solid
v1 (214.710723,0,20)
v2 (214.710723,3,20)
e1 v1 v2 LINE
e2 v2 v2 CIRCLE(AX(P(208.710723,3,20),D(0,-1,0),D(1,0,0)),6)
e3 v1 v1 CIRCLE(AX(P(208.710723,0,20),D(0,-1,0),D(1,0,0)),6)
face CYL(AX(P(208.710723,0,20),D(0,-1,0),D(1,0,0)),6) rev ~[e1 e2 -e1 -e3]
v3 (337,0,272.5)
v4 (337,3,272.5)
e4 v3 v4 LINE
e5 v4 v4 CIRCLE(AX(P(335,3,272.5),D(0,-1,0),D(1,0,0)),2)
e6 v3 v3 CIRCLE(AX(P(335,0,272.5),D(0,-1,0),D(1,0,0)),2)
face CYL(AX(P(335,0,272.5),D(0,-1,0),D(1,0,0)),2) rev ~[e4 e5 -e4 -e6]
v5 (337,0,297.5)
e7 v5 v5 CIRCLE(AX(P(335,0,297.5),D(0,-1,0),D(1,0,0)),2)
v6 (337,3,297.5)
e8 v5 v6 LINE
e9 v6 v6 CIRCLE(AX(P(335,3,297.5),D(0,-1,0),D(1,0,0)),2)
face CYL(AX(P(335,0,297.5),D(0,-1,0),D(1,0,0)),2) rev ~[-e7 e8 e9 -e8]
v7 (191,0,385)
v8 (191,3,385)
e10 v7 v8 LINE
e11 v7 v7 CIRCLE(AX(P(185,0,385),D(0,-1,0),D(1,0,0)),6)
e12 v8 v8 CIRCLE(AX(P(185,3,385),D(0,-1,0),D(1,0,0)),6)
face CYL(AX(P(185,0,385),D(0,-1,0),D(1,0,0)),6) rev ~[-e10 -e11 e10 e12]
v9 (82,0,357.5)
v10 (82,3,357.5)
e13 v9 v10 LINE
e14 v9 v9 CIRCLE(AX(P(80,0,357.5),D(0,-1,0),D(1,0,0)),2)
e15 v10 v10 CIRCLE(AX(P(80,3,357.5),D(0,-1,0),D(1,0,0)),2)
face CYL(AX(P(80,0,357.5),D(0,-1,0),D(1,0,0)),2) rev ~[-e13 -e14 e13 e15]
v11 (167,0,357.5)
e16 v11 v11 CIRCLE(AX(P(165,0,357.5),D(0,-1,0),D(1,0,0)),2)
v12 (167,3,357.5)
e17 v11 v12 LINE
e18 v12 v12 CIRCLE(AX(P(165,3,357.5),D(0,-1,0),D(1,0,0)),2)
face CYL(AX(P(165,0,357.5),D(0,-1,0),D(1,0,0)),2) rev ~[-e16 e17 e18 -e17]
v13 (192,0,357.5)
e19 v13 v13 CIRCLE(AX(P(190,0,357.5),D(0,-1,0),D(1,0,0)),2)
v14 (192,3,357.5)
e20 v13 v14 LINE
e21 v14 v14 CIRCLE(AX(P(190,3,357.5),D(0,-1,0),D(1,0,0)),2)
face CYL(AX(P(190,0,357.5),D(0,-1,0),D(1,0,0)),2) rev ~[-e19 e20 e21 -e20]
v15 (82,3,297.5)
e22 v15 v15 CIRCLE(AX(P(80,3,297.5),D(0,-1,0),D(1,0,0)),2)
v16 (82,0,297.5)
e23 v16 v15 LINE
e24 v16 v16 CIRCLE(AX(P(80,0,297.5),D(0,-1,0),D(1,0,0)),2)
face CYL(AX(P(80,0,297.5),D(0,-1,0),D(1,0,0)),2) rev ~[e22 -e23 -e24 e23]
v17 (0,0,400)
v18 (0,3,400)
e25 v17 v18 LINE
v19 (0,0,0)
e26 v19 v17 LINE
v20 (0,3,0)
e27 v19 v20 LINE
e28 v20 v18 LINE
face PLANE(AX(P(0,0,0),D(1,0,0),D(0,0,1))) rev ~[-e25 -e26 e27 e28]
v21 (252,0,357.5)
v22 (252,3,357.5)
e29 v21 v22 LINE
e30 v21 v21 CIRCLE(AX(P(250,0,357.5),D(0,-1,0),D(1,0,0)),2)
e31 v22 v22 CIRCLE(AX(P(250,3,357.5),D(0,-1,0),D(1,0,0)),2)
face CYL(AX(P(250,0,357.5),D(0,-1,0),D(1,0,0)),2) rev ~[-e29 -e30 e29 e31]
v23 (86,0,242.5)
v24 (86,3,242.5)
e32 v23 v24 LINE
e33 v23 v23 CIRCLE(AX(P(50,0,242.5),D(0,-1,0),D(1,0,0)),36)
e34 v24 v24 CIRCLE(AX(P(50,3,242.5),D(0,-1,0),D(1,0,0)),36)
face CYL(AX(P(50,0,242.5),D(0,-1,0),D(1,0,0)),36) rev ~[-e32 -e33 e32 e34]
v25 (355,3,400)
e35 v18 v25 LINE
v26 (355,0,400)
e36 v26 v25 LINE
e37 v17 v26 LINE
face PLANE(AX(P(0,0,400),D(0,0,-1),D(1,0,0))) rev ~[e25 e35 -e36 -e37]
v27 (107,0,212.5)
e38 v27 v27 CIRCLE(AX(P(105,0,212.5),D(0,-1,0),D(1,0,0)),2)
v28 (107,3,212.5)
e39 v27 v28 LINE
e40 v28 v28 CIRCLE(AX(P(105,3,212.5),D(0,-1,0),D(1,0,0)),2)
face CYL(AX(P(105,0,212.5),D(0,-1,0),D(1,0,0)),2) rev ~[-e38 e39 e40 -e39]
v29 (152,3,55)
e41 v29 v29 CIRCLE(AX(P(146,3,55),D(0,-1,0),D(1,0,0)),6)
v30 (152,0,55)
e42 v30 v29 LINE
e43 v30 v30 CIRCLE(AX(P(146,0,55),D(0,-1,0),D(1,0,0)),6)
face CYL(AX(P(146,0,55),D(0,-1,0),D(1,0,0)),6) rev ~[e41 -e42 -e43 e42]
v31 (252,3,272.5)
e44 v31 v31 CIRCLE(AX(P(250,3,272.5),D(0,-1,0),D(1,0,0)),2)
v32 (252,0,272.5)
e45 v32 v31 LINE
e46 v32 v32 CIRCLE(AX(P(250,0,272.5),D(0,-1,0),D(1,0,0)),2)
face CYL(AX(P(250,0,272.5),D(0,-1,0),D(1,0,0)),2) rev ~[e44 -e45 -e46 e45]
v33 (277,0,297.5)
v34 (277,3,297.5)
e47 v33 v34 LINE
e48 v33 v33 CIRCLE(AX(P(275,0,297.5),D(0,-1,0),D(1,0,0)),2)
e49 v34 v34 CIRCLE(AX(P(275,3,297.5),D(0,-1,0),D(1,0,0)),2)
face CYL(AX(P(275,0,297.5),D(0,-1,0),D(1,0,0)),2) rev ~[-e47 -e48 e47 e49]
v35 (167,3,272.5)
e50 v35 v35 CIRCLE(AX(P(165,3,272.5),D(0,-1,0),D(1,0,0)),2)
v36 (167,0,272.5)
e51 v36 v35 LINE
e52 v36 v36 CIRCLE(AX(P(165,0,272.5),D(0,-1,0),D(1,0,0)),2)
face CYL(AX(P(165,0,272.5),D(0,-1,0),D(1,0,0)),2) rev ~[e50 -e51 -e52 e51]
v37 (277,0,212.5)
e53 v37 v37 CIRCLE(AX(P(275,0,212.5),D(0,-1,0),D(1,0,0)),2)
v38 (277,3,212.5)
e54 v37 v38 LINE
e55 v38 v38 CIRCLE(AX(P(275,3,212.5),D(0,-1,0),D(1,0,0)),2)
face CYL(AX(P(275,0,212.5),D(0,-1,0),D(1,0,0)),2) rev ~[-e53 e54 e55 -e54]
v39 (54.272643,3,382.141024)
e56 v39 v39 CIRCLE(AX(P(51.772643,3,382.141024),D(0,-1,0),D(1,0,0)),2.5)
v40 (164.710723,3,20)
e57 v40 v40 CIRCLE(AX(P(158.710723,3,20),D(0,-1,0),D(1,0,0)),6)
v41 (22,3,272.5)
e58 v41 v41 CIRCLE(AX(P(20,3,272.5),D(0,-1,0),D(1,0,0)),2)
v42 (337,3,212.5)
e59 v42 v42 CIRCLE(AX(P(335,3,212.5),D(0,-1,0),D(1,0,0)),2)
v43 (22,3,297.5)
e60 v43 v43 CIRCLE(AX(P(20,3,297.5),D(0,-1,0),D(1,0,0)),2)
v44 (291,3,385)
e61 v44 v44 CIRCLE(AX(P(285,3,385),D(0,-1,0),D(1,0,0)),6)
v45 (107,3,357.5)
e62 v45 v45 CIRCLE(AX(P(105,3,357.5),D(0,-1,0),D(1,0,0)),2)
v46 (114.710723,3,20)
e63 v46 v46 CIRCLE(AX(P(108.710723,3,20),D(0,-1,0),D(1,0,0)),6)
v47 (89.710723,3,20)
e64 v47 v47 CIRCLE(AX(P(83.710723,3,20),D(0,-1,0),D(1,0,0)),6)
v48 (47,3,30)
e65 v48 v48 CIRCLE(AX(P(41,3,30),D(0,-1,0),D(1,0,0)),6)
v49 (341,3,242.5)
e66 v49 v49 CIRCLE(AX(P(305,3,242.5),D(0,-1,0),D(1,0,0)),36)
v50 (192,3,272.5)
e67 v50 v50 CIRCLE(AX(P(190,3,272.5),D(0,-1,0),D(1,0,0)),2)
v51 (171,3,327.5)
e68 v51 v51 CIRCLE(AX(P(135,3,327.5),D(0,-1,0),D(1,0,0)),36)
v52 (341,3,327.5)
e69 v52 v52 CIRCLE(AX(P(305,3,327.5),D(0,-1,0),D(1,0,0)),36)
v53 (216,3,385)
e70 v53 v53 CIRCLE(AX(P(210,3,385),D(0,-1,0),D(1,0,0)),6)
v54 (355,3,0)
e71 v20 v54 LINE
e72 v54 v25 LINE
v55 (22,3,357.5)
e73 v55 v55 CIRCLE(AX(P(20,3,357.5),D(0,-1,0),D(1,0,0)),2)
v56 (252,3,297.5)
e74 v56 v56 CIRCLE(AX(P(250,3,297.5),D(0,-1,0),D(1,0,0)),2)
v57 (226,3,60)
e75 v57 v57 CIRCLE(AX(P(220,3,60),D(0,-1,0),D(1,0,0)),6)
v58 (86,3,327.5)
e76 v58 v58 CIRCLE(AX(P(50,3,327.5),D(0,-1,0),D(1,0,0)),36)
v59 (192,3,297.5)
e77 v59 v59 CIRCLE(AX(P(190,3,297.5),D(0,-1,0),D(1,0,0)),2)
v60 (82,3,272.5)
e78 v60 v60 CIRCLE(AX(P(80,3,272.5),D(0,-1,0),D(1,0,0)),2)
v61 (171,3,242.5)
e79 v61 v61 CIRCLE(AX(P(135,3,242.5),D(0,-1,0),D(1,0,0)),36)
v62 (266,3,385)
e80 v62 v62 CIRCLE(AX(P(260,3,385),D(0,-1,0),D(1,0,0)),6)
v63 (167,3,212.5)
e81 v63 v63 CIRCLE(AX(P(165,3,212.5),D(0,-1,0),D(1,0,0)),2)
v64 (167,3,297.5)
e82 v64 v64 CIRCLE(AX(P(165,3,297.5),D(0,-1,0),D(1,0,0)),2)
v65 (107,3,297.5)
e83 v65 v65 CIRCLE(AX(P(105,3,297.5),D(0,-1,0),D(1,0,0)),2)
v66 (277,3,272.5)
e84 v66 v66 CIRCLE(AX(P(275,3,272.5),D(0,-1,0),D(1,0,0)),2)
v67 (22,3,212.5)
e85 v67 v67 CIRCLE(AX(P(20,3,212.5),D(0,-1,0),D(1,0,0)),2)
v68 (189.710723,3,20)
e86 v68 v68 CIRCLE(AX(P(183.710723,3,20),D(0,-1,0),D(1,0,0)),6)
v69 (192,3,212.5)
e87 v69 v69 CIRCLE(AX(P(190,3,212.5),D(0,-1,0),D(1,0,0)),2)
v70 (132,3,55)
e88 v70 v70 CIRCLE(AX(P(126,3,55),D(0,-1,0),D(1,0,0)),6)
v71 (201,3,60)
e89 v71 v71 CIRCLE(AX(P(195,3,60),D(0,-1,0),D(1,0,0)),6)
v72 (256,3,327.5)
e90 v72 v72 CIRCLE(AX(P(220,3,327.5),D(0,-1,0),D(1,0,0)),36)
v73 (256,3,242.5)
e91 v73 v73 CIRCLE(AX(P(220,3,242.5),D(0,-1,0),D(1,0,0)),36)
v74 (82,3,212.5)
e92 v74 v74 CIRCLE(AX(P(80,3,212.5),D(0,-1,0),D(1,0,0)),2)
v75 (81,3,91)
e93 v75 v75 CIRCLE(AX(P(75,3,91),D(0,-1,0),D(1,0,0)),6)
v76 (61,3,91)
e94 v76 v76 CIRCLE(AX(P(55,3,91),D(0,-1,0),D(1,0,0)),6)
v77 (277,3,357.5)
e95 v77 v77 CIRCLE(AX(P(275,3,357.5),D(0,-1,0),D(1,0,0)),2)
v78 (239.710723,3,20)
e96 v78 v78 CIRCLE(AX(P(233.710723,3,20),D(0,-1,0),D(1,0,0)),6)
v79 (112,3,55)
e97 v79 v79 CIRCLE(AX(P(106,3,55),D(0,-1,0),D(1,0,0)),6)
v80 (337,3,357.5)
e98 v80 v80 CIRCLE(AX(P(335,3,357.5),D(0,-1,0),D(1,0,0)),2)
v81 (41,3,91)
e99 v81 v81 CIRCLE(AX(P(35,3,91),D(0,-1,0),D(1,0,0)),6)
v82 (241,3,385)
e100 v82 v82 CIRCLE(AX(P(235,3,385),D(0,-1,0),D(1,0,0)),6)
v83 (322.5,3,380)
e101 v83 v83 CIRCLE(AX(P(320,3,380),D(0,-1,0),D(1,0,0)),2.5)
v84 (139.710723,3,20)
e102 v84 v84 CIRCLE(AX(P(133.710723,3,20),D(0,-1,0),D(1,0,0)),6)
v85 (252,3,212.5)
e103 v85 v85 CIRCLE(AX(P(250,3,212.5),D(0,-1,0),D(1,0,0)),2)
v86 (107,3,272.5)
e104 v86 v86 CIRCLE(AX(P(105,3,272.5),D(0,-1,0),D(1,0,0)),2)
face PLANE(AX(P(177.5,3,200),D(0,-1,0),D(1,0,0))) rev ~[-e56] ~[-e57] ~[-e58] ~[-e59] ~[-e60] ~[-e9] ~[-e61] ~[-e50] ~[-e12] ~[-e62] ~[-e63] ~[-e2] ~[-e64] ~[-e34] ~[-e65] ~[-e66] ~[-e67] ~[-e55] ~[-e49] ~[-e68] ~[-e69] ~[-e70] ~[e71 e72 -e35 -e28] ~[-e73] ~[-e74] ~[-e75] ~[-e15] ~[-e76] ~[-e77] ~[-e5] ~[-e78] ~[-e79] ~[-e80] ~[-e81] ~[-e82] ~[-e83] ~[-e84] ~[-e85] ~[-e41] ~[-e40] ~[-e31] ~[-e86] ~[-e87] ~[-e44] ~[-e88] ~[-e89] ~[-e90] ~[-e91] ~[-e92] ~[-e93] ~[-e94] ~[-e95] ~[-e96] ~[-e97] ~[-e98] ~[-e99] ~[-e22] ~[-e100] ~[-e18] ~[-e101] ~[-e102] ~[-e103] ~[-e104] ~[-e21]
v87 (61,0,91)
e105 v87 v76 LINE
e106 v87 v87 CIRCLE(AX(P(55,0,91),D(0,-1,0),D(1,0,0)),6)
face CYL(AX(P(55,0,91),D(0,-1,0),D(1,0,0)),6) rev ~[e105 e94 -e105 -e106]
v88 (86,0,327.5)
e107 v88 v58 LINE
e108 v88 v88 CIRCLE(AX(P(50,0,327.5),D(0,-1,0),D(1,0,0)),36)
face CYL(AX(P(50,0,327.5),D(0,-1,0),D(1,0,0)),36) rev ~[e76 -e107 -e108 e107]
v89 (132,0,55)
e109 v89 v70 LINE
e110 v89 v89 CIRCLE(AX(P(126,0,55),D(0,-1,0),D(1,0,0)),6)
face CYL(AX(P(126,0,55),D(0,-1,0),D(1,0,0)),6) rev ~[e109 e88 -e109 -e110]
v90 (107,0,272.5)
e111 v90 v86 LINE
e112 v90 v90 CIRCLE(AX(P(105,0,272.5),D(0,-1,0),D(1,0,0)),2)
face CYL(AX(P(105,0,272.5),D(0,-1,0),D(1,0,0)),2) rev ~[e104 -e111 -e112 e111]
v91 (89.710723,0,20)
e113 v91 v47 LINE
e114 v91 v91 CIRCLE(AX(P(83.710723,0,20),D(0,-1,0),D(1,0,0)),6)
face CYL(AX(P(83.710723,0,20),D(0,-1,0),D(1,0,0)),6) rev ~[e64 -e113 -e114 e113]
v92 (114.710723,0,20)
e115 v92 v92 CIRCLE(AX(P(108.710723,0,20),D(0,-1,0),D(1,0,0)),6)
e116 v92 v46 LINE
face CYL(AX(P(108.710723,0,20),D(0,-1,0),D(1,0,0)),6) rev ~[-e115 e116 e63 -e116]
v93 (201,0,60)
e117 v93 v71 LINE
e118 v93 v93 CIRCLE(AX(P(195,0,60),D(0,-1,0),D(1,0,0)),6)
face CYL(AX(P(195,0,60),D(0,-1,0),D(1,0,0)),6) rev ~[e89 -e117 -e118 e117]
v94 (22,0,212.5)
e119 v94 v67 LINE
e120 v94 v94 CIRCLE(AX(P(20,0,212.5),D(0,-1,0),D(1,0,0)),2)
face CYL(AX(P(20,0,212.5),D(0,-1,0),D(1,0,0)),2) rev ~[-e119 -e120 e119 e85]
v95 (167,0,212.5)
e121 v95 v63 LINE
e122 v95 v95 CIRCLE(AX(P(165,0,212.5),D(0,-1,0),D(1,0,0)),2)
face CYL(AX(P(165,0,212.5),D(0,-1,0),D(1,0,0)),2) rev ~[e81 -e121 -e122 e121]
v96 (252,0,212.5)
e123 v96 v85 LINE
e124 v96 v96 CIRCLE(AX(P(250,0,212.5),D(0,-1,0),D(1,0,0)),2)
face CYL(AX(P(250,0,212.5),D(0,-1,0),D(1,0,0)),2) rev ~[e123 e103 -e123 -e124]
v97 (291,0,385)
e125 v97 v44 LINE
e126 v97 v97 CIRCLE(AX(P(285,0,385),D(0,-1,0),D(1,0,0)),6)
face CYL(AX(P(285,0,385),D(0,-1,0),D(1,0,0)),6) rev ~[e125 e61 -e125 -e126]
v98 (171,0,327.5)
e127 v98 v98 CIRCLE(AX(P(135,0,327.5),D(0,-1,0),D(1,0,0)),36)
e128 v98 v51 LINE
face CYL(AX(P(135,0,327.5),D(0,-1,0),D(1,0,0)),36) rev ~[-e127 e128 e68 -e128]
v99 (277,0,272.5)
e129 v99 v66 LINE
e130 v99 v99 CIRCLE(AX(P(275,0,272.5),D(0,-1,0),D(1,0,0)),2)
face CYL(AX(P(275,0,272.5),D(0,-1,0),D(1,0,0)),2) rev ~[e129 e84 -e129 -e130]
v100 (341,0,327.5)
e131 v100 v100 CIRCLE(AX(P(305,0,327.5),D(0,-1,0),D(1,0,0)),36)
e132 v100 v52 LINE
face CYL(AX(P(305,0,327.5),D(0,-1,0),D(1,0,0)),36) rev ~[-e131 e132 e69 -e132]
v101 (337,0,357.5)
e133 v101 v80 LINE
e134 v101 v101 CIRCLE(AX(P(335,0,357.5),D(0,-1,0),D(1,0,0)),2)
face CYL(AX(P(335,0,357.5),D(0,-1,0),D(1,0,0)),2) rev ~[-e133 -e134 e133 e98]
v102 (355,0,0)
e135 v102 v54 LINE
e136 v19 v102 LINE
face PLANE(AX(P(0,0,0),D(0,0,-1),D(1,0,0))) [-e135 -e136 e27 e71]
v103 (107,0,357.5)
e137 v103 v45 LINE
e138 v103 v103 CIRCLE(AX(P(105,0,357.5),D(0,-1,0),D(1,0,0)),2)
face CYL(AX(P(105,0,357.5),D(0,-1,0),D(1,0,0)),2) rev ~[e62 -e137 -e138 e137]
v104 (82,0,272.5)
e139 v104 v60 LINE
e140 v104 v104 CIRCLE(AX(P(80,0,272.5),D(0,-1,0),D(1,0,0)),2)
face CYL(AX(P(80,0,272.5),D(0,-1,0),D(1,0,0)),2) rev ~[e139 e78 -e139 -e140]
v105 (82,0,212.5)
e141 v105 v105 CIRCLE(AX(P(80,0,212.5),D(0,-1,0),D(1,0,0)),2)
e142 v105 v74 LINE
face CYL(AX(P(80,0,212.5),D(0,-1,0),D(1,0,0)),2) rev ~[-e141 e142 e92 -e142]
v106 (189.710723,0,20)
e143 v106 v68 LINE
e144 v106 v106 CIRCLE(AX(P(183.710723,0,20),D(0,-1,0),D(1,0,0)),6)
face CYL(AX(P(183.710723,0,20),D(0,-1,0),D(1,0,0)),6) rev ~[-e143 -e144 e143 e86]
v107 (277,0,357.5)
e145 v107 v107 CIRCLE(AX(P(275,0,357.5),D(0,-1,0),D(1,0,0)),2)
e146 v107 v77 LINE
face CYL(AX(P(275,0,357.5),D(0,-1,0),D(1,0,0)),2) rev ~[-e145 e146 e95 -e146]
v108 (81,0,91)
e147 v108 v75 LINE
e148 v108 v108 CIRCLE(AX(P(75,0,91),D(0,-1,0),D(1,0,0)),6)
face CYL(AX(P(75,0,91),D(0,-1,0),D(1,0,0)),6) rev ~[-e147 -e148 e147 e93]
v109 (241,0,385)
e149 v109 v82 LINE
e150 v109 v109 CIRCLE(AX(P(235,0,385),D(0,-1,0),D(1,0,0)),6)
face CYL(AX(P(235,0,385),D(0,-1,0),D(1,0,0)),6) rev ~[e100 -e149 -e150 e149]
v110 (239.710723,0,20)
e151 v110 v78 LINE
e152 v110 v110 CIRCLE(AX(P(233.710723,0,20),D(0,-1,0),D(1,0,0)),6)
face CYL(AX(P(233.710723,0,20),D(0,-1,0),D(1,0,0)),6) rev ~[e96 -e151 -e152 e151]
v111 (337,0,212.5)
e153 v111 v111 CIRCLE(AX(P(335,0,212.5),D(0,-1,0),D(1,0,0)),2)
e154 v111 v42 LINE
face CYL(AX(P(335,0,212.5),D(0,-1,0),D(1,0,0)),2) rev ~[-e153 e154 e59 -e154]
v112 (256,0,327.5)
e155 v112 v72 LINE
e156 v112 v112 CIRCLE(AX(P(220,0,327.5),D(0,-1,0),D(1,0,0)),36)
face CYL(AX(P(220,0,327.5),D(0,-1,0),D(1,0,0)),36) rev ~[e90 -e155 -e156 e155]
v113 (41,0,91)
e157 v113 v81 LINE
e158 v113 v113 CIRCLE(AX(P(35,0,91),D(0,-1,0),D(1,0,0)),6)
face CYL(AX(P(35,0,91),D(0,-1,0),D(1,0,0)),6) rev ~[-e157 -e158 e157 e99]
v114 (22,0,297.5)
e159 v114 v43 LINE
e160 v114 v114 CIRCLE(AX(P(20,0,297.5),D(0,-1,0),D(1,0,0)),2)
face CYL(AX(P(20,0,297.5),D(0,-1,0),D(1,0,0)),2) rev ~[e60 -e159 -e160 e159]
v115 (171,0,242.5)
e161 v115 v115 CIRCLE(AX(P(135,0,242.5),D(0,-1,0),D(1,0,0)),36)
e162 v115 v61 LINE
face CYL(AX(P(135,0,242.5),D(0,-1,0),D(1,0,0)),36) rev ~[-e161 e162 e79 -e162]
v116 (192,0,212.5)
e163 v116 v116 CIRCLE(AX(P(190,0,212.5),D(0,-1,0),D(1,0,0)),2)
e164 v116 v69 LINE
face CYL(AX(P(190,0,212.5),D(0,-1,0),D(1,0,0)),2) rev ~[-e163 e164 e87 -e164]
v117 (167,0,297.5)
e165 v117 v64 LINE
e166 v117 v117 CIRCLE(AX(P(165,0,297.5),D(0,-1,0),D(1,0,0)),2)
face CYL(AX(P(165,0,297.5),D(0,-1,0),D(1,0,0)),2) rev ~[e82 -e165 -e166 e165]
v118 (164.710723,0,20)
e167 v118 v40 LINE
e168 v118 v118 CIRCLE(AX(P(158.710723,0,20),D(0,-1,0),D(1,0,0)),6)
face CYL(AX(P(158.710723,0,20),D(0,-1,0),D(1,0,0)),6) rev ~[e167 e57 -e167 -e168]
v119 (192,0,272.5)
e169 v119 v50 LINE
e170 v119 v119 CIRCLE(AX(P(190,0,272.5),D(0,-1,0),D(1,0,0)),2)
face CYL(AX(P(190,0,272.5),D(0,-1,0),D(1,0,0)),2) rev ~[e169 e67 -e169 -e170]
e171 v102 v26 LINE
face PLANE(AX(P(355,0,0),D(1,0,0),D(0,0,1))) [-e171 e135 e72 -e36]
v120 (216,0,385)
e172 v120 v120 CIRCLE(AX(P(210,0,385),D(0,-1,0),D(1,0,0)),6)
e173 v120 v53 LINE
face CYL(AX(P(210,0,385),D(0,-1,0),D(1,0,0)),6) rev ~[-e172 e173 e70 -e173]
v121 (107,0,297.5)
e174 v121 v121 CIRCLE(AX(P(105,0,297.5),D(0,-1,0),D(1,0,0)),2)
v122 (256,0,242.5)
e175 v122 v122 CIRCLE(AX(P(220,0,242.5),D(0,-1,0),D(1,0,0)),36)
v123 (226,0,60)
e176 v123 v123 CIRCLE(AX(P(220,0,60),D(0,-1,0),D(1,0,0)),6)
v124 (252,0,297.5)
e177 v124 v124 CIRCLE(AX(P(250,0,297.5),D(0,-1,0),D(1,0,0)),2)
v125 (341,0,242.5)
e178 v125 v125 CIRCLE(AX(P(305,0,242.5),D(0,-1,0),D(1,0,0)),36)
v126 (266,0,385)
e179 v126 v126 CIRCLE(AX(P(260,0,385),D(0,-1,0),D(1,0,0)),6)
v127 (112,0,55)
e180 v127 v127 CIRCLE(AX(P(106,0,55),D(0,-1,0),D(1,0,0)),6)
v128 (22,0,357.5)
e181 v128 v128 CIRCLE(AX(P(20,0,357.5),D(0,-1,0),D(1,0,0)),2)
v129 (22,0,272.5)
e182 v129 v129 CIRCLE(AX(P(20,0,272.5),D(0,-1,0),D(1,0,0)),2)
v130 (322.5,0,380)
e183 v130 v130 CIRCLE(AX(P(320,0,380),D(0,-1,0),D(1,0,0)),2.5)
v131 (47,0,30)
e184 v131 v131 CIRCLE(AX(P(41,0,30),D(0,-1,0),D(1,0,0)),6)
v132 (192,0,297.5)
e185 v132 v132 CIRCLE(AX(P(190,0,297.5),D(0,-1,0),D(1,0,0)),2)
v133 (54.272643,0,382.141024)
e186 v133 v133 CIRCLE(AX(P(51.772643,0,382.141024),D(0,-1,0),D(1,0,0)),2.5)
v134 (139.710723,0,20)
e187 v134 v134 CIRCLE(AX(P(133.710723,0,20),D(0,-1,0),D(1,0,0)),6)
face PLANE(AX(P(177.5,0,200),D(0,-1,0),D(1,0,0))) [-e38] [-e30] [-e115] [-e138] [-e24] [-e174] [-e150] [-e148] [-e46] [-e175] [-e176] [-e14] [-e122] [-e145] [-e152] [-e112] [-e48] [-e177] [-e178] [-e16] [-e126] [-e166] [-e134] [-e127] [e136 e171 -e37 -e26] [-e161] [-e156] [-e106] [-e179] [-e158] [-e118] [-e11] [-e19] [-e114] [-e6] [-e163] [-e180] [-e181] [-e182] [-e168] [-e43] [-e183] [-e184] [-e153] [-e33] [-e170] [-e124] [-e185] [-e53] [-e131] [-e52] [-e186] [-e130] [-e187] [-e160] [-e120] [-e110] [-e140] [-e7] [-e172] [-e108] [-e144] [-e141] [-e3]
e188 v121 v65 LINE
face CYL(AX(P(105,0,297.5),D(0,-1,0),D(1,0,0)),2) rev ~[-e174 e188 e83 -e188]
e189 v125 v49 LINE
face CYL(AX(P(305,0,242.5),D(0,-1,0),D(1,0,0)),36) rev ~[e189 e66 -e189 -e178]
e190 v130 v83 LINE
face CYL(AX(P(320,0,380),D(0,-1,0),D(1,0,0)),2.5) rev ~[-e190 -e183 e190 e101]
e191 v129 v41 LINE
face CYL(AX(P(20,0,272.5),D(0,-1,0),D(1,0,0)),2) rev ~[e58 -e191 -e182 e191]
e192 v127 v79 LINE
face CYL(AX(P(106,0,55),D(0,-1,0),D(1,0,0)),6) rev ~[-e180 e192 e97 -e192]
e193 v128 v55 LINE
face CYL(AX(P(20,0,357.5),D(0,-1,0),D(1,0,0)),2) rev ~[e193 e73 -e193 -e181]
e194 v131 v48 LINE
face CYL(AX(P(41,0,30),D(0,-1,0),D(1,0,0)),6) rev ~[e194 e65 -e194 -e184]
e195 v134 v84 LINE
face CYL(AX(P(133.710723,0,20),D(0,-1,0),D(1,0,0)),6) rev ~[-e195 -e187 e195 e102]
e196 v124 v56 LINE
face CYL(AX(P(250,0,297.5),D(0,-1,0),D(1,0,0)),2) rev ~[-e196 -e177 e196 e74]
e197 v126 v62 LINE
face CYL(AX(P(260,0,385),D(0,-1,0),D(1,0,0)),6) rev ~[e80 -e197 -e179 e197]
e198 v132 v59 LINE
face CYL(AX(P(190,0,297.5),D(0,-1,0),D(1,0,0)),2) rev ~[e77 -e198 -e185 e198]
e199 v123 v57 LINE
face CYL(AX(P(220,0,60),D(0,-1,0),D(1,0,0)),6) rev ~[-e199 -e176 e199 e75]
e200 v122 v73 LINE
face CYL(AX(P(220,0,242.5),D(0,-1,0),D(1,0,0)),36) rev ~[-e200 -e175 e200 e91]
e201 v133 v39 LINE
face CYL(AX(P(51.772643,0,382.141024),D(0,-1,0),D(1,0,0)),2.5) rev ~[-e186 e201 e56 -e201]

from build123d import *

# Parameters (mm, degrees)
F0_W     = 355
F0_H     = 400
F0_R     = 36
F1_DEPTH = 3
F2_R     = 2
F3_DEPTH = 3
F4_R     = 6
F4_R_2   = 2.5
F5_DEPTH = 3


with BuildPart() as f1:
    # F0 (on Front) → F1 (new body)
    with BuildSketch(Plane.XZ):
        with Locations((177.5, 200)):
            Rectangle(F0_W, F0_H)
        with Locations((50, 242.5)):
            Circle(F0_R, mode=Mode.SUBTRACT)
        with Locations((135, 242.5)):
            Circle(F0_R, mode=Mode.SUBTRACT)
        with Locations((50, 327.5)):
            Circle(F0_R, mode=Mode.SUBTRACT)
        with Locations((135, 327.5)):
            Circle(F0_R, mode=Mode.SUBTRACT)
        with Locations((220, 242.5)):
            Circle(F0_R, mode=Mode.SUBTRACT)
        with Locations((305, 242.5)):
            Circle(F0_R, mode=Mode.SUBTRACT)
        with Locations((220, 327.5)):
            Circle(F0_R, mode=Mode.SUBTRACT)
        with Locations((305, 327.5)):
            Circle(F0_R, mode=Mode.SUBTRACT)
    extrude(amount=-F1_DEPTH)

    # F2 (on face) → F3 (cut)
    with BuildSketch(Plane.XZ):
        with Locations((20, 357.5)):
            Circle(F2_R)
        with Locations((80, 357.5)):
            Circle(F2_R)
        with Locations((80, 297.5)):
            Circle(F2_R)
        with Locations((20, 297.5)):
            Circle(F2_R)
        with Locations((80, 272.5)):
            Circle(F2_R)
        with Locations((80, 212.5)):
            Circle(F2_R)
        with Locations((20, 212.5)):
            Circle(F2_R)
        with Locations((20, 272.5)):
            Circle(F2_R)
        with Locations((165, 357.5)):
            Circle(F2_R)
        with Locations((165, 297.5)):
            Circle(F2_R)
        with Locations((105, 297.5)):
            Circle(F2_R)
        with Locations((105, 357.5)):
            Circle(F2_R)
        with Locations((165, 272.5)):
            Circle(F2_R)
        with Locations((165, 212.5)):
            Circle(F2_R)
        with Locations((105, 212.5)):
            Circle(F2_R)
        with Locations((105, 272.5)):
            Circle(F2_R)
        with Locations((250, 357.5)):
            Circle(F2_R)
        with Locations((250, 297.5)):
            Circle(F2_R)
        with Locations((190, 297.5)):
            Circle(F2_R)
        with Locations((190, 357.5)):
            Circle(F2_R)
        with Locations((250, 272.5)):
            Circle(F2_R)
        with Locations((250, 212.5)):
            Circle(F2_R)
        with Locations((190, 212.5)):
            Circle(F2_R)
        with Locations((190, 272.5)):
            Circle(F2_R)
        with Locations((335, 357.5)):
            Circle(F2_R)
        with Locations((335, 297.5)):
            Circle(F2_R)
        with Locations((275, 297.5)):
            Circle(F2_R)
        with Locations((275, 357.5)):
            Circle(F2_R)
        with Locations((335, 272.5)):
            Circle(F2_R)
        with Locations((335, 212.5)):
            Circle(F2_R)
        with Locations((275, 212.5)):
            Circle(F2_R)
        with Locations((275, 272.5)):
            Circle(F2_R)
    extrude(amount=-F3_DEPTH, mode=Mode.SUBTRACT)

    # F4 (on face) → F5 (cut)
    with BuildSketch(Plane.XZ):
        with Locations((35, 91)):
            Circle(F4_R)
        with Locations((55, 91)):
            Circle(F4_R)
        with Locations((75, 91)):
            Circle(F4_R)
        with Locations((106, 55)):
            Circle(F4_R)
        with Locations((126, 55)):
            Circle(F4_R)
        with Locations((146, 55)):
            Circle(F4_R)
        with Locations((41, 30)):
            Circle(F4_R)
        with Locations((83.710723, 20)):
            Circle(F4_R)
        with Locations((108.710723, 20)):
            Circle(F4_R)
        with Locations((133.710723, 20)):
            Circle(F4_R)
        with Locations((158.710723, 20)):
            Circle(F4_R)
        with Locations((183.710723, 20)):
            Circle(F4_R)
        with Locations((208.710723, 20)):
            Circle(F4_R)
        with Locations((233.710723, 20)):
            Circle(F4_R)
        with Locations((195, 60)):
            Circle(F4_R)
        with Locations((220, 60)):
            Circle(F4_R)
        with Locations((185, 385)):
            Circle(F4_R)
        with Locations((210, 385)):
            Circle(F4_R)
        with Locations((235, 385)):
            Circle(F4_R)
        with Locations((260, 385)):
            Circle(F4_R)
        with Locations((285, 385)):
            Circle(F4_R)
        with Locations((320, 380)):
            Circle(F4_R_2)
        with Locations((51.772643, 382.141024)):
            Circle(F4_R_2)
    extrude(amount=-F5_DEPTH, mode=Mode.SUBTRACT)


solid = f1.part
